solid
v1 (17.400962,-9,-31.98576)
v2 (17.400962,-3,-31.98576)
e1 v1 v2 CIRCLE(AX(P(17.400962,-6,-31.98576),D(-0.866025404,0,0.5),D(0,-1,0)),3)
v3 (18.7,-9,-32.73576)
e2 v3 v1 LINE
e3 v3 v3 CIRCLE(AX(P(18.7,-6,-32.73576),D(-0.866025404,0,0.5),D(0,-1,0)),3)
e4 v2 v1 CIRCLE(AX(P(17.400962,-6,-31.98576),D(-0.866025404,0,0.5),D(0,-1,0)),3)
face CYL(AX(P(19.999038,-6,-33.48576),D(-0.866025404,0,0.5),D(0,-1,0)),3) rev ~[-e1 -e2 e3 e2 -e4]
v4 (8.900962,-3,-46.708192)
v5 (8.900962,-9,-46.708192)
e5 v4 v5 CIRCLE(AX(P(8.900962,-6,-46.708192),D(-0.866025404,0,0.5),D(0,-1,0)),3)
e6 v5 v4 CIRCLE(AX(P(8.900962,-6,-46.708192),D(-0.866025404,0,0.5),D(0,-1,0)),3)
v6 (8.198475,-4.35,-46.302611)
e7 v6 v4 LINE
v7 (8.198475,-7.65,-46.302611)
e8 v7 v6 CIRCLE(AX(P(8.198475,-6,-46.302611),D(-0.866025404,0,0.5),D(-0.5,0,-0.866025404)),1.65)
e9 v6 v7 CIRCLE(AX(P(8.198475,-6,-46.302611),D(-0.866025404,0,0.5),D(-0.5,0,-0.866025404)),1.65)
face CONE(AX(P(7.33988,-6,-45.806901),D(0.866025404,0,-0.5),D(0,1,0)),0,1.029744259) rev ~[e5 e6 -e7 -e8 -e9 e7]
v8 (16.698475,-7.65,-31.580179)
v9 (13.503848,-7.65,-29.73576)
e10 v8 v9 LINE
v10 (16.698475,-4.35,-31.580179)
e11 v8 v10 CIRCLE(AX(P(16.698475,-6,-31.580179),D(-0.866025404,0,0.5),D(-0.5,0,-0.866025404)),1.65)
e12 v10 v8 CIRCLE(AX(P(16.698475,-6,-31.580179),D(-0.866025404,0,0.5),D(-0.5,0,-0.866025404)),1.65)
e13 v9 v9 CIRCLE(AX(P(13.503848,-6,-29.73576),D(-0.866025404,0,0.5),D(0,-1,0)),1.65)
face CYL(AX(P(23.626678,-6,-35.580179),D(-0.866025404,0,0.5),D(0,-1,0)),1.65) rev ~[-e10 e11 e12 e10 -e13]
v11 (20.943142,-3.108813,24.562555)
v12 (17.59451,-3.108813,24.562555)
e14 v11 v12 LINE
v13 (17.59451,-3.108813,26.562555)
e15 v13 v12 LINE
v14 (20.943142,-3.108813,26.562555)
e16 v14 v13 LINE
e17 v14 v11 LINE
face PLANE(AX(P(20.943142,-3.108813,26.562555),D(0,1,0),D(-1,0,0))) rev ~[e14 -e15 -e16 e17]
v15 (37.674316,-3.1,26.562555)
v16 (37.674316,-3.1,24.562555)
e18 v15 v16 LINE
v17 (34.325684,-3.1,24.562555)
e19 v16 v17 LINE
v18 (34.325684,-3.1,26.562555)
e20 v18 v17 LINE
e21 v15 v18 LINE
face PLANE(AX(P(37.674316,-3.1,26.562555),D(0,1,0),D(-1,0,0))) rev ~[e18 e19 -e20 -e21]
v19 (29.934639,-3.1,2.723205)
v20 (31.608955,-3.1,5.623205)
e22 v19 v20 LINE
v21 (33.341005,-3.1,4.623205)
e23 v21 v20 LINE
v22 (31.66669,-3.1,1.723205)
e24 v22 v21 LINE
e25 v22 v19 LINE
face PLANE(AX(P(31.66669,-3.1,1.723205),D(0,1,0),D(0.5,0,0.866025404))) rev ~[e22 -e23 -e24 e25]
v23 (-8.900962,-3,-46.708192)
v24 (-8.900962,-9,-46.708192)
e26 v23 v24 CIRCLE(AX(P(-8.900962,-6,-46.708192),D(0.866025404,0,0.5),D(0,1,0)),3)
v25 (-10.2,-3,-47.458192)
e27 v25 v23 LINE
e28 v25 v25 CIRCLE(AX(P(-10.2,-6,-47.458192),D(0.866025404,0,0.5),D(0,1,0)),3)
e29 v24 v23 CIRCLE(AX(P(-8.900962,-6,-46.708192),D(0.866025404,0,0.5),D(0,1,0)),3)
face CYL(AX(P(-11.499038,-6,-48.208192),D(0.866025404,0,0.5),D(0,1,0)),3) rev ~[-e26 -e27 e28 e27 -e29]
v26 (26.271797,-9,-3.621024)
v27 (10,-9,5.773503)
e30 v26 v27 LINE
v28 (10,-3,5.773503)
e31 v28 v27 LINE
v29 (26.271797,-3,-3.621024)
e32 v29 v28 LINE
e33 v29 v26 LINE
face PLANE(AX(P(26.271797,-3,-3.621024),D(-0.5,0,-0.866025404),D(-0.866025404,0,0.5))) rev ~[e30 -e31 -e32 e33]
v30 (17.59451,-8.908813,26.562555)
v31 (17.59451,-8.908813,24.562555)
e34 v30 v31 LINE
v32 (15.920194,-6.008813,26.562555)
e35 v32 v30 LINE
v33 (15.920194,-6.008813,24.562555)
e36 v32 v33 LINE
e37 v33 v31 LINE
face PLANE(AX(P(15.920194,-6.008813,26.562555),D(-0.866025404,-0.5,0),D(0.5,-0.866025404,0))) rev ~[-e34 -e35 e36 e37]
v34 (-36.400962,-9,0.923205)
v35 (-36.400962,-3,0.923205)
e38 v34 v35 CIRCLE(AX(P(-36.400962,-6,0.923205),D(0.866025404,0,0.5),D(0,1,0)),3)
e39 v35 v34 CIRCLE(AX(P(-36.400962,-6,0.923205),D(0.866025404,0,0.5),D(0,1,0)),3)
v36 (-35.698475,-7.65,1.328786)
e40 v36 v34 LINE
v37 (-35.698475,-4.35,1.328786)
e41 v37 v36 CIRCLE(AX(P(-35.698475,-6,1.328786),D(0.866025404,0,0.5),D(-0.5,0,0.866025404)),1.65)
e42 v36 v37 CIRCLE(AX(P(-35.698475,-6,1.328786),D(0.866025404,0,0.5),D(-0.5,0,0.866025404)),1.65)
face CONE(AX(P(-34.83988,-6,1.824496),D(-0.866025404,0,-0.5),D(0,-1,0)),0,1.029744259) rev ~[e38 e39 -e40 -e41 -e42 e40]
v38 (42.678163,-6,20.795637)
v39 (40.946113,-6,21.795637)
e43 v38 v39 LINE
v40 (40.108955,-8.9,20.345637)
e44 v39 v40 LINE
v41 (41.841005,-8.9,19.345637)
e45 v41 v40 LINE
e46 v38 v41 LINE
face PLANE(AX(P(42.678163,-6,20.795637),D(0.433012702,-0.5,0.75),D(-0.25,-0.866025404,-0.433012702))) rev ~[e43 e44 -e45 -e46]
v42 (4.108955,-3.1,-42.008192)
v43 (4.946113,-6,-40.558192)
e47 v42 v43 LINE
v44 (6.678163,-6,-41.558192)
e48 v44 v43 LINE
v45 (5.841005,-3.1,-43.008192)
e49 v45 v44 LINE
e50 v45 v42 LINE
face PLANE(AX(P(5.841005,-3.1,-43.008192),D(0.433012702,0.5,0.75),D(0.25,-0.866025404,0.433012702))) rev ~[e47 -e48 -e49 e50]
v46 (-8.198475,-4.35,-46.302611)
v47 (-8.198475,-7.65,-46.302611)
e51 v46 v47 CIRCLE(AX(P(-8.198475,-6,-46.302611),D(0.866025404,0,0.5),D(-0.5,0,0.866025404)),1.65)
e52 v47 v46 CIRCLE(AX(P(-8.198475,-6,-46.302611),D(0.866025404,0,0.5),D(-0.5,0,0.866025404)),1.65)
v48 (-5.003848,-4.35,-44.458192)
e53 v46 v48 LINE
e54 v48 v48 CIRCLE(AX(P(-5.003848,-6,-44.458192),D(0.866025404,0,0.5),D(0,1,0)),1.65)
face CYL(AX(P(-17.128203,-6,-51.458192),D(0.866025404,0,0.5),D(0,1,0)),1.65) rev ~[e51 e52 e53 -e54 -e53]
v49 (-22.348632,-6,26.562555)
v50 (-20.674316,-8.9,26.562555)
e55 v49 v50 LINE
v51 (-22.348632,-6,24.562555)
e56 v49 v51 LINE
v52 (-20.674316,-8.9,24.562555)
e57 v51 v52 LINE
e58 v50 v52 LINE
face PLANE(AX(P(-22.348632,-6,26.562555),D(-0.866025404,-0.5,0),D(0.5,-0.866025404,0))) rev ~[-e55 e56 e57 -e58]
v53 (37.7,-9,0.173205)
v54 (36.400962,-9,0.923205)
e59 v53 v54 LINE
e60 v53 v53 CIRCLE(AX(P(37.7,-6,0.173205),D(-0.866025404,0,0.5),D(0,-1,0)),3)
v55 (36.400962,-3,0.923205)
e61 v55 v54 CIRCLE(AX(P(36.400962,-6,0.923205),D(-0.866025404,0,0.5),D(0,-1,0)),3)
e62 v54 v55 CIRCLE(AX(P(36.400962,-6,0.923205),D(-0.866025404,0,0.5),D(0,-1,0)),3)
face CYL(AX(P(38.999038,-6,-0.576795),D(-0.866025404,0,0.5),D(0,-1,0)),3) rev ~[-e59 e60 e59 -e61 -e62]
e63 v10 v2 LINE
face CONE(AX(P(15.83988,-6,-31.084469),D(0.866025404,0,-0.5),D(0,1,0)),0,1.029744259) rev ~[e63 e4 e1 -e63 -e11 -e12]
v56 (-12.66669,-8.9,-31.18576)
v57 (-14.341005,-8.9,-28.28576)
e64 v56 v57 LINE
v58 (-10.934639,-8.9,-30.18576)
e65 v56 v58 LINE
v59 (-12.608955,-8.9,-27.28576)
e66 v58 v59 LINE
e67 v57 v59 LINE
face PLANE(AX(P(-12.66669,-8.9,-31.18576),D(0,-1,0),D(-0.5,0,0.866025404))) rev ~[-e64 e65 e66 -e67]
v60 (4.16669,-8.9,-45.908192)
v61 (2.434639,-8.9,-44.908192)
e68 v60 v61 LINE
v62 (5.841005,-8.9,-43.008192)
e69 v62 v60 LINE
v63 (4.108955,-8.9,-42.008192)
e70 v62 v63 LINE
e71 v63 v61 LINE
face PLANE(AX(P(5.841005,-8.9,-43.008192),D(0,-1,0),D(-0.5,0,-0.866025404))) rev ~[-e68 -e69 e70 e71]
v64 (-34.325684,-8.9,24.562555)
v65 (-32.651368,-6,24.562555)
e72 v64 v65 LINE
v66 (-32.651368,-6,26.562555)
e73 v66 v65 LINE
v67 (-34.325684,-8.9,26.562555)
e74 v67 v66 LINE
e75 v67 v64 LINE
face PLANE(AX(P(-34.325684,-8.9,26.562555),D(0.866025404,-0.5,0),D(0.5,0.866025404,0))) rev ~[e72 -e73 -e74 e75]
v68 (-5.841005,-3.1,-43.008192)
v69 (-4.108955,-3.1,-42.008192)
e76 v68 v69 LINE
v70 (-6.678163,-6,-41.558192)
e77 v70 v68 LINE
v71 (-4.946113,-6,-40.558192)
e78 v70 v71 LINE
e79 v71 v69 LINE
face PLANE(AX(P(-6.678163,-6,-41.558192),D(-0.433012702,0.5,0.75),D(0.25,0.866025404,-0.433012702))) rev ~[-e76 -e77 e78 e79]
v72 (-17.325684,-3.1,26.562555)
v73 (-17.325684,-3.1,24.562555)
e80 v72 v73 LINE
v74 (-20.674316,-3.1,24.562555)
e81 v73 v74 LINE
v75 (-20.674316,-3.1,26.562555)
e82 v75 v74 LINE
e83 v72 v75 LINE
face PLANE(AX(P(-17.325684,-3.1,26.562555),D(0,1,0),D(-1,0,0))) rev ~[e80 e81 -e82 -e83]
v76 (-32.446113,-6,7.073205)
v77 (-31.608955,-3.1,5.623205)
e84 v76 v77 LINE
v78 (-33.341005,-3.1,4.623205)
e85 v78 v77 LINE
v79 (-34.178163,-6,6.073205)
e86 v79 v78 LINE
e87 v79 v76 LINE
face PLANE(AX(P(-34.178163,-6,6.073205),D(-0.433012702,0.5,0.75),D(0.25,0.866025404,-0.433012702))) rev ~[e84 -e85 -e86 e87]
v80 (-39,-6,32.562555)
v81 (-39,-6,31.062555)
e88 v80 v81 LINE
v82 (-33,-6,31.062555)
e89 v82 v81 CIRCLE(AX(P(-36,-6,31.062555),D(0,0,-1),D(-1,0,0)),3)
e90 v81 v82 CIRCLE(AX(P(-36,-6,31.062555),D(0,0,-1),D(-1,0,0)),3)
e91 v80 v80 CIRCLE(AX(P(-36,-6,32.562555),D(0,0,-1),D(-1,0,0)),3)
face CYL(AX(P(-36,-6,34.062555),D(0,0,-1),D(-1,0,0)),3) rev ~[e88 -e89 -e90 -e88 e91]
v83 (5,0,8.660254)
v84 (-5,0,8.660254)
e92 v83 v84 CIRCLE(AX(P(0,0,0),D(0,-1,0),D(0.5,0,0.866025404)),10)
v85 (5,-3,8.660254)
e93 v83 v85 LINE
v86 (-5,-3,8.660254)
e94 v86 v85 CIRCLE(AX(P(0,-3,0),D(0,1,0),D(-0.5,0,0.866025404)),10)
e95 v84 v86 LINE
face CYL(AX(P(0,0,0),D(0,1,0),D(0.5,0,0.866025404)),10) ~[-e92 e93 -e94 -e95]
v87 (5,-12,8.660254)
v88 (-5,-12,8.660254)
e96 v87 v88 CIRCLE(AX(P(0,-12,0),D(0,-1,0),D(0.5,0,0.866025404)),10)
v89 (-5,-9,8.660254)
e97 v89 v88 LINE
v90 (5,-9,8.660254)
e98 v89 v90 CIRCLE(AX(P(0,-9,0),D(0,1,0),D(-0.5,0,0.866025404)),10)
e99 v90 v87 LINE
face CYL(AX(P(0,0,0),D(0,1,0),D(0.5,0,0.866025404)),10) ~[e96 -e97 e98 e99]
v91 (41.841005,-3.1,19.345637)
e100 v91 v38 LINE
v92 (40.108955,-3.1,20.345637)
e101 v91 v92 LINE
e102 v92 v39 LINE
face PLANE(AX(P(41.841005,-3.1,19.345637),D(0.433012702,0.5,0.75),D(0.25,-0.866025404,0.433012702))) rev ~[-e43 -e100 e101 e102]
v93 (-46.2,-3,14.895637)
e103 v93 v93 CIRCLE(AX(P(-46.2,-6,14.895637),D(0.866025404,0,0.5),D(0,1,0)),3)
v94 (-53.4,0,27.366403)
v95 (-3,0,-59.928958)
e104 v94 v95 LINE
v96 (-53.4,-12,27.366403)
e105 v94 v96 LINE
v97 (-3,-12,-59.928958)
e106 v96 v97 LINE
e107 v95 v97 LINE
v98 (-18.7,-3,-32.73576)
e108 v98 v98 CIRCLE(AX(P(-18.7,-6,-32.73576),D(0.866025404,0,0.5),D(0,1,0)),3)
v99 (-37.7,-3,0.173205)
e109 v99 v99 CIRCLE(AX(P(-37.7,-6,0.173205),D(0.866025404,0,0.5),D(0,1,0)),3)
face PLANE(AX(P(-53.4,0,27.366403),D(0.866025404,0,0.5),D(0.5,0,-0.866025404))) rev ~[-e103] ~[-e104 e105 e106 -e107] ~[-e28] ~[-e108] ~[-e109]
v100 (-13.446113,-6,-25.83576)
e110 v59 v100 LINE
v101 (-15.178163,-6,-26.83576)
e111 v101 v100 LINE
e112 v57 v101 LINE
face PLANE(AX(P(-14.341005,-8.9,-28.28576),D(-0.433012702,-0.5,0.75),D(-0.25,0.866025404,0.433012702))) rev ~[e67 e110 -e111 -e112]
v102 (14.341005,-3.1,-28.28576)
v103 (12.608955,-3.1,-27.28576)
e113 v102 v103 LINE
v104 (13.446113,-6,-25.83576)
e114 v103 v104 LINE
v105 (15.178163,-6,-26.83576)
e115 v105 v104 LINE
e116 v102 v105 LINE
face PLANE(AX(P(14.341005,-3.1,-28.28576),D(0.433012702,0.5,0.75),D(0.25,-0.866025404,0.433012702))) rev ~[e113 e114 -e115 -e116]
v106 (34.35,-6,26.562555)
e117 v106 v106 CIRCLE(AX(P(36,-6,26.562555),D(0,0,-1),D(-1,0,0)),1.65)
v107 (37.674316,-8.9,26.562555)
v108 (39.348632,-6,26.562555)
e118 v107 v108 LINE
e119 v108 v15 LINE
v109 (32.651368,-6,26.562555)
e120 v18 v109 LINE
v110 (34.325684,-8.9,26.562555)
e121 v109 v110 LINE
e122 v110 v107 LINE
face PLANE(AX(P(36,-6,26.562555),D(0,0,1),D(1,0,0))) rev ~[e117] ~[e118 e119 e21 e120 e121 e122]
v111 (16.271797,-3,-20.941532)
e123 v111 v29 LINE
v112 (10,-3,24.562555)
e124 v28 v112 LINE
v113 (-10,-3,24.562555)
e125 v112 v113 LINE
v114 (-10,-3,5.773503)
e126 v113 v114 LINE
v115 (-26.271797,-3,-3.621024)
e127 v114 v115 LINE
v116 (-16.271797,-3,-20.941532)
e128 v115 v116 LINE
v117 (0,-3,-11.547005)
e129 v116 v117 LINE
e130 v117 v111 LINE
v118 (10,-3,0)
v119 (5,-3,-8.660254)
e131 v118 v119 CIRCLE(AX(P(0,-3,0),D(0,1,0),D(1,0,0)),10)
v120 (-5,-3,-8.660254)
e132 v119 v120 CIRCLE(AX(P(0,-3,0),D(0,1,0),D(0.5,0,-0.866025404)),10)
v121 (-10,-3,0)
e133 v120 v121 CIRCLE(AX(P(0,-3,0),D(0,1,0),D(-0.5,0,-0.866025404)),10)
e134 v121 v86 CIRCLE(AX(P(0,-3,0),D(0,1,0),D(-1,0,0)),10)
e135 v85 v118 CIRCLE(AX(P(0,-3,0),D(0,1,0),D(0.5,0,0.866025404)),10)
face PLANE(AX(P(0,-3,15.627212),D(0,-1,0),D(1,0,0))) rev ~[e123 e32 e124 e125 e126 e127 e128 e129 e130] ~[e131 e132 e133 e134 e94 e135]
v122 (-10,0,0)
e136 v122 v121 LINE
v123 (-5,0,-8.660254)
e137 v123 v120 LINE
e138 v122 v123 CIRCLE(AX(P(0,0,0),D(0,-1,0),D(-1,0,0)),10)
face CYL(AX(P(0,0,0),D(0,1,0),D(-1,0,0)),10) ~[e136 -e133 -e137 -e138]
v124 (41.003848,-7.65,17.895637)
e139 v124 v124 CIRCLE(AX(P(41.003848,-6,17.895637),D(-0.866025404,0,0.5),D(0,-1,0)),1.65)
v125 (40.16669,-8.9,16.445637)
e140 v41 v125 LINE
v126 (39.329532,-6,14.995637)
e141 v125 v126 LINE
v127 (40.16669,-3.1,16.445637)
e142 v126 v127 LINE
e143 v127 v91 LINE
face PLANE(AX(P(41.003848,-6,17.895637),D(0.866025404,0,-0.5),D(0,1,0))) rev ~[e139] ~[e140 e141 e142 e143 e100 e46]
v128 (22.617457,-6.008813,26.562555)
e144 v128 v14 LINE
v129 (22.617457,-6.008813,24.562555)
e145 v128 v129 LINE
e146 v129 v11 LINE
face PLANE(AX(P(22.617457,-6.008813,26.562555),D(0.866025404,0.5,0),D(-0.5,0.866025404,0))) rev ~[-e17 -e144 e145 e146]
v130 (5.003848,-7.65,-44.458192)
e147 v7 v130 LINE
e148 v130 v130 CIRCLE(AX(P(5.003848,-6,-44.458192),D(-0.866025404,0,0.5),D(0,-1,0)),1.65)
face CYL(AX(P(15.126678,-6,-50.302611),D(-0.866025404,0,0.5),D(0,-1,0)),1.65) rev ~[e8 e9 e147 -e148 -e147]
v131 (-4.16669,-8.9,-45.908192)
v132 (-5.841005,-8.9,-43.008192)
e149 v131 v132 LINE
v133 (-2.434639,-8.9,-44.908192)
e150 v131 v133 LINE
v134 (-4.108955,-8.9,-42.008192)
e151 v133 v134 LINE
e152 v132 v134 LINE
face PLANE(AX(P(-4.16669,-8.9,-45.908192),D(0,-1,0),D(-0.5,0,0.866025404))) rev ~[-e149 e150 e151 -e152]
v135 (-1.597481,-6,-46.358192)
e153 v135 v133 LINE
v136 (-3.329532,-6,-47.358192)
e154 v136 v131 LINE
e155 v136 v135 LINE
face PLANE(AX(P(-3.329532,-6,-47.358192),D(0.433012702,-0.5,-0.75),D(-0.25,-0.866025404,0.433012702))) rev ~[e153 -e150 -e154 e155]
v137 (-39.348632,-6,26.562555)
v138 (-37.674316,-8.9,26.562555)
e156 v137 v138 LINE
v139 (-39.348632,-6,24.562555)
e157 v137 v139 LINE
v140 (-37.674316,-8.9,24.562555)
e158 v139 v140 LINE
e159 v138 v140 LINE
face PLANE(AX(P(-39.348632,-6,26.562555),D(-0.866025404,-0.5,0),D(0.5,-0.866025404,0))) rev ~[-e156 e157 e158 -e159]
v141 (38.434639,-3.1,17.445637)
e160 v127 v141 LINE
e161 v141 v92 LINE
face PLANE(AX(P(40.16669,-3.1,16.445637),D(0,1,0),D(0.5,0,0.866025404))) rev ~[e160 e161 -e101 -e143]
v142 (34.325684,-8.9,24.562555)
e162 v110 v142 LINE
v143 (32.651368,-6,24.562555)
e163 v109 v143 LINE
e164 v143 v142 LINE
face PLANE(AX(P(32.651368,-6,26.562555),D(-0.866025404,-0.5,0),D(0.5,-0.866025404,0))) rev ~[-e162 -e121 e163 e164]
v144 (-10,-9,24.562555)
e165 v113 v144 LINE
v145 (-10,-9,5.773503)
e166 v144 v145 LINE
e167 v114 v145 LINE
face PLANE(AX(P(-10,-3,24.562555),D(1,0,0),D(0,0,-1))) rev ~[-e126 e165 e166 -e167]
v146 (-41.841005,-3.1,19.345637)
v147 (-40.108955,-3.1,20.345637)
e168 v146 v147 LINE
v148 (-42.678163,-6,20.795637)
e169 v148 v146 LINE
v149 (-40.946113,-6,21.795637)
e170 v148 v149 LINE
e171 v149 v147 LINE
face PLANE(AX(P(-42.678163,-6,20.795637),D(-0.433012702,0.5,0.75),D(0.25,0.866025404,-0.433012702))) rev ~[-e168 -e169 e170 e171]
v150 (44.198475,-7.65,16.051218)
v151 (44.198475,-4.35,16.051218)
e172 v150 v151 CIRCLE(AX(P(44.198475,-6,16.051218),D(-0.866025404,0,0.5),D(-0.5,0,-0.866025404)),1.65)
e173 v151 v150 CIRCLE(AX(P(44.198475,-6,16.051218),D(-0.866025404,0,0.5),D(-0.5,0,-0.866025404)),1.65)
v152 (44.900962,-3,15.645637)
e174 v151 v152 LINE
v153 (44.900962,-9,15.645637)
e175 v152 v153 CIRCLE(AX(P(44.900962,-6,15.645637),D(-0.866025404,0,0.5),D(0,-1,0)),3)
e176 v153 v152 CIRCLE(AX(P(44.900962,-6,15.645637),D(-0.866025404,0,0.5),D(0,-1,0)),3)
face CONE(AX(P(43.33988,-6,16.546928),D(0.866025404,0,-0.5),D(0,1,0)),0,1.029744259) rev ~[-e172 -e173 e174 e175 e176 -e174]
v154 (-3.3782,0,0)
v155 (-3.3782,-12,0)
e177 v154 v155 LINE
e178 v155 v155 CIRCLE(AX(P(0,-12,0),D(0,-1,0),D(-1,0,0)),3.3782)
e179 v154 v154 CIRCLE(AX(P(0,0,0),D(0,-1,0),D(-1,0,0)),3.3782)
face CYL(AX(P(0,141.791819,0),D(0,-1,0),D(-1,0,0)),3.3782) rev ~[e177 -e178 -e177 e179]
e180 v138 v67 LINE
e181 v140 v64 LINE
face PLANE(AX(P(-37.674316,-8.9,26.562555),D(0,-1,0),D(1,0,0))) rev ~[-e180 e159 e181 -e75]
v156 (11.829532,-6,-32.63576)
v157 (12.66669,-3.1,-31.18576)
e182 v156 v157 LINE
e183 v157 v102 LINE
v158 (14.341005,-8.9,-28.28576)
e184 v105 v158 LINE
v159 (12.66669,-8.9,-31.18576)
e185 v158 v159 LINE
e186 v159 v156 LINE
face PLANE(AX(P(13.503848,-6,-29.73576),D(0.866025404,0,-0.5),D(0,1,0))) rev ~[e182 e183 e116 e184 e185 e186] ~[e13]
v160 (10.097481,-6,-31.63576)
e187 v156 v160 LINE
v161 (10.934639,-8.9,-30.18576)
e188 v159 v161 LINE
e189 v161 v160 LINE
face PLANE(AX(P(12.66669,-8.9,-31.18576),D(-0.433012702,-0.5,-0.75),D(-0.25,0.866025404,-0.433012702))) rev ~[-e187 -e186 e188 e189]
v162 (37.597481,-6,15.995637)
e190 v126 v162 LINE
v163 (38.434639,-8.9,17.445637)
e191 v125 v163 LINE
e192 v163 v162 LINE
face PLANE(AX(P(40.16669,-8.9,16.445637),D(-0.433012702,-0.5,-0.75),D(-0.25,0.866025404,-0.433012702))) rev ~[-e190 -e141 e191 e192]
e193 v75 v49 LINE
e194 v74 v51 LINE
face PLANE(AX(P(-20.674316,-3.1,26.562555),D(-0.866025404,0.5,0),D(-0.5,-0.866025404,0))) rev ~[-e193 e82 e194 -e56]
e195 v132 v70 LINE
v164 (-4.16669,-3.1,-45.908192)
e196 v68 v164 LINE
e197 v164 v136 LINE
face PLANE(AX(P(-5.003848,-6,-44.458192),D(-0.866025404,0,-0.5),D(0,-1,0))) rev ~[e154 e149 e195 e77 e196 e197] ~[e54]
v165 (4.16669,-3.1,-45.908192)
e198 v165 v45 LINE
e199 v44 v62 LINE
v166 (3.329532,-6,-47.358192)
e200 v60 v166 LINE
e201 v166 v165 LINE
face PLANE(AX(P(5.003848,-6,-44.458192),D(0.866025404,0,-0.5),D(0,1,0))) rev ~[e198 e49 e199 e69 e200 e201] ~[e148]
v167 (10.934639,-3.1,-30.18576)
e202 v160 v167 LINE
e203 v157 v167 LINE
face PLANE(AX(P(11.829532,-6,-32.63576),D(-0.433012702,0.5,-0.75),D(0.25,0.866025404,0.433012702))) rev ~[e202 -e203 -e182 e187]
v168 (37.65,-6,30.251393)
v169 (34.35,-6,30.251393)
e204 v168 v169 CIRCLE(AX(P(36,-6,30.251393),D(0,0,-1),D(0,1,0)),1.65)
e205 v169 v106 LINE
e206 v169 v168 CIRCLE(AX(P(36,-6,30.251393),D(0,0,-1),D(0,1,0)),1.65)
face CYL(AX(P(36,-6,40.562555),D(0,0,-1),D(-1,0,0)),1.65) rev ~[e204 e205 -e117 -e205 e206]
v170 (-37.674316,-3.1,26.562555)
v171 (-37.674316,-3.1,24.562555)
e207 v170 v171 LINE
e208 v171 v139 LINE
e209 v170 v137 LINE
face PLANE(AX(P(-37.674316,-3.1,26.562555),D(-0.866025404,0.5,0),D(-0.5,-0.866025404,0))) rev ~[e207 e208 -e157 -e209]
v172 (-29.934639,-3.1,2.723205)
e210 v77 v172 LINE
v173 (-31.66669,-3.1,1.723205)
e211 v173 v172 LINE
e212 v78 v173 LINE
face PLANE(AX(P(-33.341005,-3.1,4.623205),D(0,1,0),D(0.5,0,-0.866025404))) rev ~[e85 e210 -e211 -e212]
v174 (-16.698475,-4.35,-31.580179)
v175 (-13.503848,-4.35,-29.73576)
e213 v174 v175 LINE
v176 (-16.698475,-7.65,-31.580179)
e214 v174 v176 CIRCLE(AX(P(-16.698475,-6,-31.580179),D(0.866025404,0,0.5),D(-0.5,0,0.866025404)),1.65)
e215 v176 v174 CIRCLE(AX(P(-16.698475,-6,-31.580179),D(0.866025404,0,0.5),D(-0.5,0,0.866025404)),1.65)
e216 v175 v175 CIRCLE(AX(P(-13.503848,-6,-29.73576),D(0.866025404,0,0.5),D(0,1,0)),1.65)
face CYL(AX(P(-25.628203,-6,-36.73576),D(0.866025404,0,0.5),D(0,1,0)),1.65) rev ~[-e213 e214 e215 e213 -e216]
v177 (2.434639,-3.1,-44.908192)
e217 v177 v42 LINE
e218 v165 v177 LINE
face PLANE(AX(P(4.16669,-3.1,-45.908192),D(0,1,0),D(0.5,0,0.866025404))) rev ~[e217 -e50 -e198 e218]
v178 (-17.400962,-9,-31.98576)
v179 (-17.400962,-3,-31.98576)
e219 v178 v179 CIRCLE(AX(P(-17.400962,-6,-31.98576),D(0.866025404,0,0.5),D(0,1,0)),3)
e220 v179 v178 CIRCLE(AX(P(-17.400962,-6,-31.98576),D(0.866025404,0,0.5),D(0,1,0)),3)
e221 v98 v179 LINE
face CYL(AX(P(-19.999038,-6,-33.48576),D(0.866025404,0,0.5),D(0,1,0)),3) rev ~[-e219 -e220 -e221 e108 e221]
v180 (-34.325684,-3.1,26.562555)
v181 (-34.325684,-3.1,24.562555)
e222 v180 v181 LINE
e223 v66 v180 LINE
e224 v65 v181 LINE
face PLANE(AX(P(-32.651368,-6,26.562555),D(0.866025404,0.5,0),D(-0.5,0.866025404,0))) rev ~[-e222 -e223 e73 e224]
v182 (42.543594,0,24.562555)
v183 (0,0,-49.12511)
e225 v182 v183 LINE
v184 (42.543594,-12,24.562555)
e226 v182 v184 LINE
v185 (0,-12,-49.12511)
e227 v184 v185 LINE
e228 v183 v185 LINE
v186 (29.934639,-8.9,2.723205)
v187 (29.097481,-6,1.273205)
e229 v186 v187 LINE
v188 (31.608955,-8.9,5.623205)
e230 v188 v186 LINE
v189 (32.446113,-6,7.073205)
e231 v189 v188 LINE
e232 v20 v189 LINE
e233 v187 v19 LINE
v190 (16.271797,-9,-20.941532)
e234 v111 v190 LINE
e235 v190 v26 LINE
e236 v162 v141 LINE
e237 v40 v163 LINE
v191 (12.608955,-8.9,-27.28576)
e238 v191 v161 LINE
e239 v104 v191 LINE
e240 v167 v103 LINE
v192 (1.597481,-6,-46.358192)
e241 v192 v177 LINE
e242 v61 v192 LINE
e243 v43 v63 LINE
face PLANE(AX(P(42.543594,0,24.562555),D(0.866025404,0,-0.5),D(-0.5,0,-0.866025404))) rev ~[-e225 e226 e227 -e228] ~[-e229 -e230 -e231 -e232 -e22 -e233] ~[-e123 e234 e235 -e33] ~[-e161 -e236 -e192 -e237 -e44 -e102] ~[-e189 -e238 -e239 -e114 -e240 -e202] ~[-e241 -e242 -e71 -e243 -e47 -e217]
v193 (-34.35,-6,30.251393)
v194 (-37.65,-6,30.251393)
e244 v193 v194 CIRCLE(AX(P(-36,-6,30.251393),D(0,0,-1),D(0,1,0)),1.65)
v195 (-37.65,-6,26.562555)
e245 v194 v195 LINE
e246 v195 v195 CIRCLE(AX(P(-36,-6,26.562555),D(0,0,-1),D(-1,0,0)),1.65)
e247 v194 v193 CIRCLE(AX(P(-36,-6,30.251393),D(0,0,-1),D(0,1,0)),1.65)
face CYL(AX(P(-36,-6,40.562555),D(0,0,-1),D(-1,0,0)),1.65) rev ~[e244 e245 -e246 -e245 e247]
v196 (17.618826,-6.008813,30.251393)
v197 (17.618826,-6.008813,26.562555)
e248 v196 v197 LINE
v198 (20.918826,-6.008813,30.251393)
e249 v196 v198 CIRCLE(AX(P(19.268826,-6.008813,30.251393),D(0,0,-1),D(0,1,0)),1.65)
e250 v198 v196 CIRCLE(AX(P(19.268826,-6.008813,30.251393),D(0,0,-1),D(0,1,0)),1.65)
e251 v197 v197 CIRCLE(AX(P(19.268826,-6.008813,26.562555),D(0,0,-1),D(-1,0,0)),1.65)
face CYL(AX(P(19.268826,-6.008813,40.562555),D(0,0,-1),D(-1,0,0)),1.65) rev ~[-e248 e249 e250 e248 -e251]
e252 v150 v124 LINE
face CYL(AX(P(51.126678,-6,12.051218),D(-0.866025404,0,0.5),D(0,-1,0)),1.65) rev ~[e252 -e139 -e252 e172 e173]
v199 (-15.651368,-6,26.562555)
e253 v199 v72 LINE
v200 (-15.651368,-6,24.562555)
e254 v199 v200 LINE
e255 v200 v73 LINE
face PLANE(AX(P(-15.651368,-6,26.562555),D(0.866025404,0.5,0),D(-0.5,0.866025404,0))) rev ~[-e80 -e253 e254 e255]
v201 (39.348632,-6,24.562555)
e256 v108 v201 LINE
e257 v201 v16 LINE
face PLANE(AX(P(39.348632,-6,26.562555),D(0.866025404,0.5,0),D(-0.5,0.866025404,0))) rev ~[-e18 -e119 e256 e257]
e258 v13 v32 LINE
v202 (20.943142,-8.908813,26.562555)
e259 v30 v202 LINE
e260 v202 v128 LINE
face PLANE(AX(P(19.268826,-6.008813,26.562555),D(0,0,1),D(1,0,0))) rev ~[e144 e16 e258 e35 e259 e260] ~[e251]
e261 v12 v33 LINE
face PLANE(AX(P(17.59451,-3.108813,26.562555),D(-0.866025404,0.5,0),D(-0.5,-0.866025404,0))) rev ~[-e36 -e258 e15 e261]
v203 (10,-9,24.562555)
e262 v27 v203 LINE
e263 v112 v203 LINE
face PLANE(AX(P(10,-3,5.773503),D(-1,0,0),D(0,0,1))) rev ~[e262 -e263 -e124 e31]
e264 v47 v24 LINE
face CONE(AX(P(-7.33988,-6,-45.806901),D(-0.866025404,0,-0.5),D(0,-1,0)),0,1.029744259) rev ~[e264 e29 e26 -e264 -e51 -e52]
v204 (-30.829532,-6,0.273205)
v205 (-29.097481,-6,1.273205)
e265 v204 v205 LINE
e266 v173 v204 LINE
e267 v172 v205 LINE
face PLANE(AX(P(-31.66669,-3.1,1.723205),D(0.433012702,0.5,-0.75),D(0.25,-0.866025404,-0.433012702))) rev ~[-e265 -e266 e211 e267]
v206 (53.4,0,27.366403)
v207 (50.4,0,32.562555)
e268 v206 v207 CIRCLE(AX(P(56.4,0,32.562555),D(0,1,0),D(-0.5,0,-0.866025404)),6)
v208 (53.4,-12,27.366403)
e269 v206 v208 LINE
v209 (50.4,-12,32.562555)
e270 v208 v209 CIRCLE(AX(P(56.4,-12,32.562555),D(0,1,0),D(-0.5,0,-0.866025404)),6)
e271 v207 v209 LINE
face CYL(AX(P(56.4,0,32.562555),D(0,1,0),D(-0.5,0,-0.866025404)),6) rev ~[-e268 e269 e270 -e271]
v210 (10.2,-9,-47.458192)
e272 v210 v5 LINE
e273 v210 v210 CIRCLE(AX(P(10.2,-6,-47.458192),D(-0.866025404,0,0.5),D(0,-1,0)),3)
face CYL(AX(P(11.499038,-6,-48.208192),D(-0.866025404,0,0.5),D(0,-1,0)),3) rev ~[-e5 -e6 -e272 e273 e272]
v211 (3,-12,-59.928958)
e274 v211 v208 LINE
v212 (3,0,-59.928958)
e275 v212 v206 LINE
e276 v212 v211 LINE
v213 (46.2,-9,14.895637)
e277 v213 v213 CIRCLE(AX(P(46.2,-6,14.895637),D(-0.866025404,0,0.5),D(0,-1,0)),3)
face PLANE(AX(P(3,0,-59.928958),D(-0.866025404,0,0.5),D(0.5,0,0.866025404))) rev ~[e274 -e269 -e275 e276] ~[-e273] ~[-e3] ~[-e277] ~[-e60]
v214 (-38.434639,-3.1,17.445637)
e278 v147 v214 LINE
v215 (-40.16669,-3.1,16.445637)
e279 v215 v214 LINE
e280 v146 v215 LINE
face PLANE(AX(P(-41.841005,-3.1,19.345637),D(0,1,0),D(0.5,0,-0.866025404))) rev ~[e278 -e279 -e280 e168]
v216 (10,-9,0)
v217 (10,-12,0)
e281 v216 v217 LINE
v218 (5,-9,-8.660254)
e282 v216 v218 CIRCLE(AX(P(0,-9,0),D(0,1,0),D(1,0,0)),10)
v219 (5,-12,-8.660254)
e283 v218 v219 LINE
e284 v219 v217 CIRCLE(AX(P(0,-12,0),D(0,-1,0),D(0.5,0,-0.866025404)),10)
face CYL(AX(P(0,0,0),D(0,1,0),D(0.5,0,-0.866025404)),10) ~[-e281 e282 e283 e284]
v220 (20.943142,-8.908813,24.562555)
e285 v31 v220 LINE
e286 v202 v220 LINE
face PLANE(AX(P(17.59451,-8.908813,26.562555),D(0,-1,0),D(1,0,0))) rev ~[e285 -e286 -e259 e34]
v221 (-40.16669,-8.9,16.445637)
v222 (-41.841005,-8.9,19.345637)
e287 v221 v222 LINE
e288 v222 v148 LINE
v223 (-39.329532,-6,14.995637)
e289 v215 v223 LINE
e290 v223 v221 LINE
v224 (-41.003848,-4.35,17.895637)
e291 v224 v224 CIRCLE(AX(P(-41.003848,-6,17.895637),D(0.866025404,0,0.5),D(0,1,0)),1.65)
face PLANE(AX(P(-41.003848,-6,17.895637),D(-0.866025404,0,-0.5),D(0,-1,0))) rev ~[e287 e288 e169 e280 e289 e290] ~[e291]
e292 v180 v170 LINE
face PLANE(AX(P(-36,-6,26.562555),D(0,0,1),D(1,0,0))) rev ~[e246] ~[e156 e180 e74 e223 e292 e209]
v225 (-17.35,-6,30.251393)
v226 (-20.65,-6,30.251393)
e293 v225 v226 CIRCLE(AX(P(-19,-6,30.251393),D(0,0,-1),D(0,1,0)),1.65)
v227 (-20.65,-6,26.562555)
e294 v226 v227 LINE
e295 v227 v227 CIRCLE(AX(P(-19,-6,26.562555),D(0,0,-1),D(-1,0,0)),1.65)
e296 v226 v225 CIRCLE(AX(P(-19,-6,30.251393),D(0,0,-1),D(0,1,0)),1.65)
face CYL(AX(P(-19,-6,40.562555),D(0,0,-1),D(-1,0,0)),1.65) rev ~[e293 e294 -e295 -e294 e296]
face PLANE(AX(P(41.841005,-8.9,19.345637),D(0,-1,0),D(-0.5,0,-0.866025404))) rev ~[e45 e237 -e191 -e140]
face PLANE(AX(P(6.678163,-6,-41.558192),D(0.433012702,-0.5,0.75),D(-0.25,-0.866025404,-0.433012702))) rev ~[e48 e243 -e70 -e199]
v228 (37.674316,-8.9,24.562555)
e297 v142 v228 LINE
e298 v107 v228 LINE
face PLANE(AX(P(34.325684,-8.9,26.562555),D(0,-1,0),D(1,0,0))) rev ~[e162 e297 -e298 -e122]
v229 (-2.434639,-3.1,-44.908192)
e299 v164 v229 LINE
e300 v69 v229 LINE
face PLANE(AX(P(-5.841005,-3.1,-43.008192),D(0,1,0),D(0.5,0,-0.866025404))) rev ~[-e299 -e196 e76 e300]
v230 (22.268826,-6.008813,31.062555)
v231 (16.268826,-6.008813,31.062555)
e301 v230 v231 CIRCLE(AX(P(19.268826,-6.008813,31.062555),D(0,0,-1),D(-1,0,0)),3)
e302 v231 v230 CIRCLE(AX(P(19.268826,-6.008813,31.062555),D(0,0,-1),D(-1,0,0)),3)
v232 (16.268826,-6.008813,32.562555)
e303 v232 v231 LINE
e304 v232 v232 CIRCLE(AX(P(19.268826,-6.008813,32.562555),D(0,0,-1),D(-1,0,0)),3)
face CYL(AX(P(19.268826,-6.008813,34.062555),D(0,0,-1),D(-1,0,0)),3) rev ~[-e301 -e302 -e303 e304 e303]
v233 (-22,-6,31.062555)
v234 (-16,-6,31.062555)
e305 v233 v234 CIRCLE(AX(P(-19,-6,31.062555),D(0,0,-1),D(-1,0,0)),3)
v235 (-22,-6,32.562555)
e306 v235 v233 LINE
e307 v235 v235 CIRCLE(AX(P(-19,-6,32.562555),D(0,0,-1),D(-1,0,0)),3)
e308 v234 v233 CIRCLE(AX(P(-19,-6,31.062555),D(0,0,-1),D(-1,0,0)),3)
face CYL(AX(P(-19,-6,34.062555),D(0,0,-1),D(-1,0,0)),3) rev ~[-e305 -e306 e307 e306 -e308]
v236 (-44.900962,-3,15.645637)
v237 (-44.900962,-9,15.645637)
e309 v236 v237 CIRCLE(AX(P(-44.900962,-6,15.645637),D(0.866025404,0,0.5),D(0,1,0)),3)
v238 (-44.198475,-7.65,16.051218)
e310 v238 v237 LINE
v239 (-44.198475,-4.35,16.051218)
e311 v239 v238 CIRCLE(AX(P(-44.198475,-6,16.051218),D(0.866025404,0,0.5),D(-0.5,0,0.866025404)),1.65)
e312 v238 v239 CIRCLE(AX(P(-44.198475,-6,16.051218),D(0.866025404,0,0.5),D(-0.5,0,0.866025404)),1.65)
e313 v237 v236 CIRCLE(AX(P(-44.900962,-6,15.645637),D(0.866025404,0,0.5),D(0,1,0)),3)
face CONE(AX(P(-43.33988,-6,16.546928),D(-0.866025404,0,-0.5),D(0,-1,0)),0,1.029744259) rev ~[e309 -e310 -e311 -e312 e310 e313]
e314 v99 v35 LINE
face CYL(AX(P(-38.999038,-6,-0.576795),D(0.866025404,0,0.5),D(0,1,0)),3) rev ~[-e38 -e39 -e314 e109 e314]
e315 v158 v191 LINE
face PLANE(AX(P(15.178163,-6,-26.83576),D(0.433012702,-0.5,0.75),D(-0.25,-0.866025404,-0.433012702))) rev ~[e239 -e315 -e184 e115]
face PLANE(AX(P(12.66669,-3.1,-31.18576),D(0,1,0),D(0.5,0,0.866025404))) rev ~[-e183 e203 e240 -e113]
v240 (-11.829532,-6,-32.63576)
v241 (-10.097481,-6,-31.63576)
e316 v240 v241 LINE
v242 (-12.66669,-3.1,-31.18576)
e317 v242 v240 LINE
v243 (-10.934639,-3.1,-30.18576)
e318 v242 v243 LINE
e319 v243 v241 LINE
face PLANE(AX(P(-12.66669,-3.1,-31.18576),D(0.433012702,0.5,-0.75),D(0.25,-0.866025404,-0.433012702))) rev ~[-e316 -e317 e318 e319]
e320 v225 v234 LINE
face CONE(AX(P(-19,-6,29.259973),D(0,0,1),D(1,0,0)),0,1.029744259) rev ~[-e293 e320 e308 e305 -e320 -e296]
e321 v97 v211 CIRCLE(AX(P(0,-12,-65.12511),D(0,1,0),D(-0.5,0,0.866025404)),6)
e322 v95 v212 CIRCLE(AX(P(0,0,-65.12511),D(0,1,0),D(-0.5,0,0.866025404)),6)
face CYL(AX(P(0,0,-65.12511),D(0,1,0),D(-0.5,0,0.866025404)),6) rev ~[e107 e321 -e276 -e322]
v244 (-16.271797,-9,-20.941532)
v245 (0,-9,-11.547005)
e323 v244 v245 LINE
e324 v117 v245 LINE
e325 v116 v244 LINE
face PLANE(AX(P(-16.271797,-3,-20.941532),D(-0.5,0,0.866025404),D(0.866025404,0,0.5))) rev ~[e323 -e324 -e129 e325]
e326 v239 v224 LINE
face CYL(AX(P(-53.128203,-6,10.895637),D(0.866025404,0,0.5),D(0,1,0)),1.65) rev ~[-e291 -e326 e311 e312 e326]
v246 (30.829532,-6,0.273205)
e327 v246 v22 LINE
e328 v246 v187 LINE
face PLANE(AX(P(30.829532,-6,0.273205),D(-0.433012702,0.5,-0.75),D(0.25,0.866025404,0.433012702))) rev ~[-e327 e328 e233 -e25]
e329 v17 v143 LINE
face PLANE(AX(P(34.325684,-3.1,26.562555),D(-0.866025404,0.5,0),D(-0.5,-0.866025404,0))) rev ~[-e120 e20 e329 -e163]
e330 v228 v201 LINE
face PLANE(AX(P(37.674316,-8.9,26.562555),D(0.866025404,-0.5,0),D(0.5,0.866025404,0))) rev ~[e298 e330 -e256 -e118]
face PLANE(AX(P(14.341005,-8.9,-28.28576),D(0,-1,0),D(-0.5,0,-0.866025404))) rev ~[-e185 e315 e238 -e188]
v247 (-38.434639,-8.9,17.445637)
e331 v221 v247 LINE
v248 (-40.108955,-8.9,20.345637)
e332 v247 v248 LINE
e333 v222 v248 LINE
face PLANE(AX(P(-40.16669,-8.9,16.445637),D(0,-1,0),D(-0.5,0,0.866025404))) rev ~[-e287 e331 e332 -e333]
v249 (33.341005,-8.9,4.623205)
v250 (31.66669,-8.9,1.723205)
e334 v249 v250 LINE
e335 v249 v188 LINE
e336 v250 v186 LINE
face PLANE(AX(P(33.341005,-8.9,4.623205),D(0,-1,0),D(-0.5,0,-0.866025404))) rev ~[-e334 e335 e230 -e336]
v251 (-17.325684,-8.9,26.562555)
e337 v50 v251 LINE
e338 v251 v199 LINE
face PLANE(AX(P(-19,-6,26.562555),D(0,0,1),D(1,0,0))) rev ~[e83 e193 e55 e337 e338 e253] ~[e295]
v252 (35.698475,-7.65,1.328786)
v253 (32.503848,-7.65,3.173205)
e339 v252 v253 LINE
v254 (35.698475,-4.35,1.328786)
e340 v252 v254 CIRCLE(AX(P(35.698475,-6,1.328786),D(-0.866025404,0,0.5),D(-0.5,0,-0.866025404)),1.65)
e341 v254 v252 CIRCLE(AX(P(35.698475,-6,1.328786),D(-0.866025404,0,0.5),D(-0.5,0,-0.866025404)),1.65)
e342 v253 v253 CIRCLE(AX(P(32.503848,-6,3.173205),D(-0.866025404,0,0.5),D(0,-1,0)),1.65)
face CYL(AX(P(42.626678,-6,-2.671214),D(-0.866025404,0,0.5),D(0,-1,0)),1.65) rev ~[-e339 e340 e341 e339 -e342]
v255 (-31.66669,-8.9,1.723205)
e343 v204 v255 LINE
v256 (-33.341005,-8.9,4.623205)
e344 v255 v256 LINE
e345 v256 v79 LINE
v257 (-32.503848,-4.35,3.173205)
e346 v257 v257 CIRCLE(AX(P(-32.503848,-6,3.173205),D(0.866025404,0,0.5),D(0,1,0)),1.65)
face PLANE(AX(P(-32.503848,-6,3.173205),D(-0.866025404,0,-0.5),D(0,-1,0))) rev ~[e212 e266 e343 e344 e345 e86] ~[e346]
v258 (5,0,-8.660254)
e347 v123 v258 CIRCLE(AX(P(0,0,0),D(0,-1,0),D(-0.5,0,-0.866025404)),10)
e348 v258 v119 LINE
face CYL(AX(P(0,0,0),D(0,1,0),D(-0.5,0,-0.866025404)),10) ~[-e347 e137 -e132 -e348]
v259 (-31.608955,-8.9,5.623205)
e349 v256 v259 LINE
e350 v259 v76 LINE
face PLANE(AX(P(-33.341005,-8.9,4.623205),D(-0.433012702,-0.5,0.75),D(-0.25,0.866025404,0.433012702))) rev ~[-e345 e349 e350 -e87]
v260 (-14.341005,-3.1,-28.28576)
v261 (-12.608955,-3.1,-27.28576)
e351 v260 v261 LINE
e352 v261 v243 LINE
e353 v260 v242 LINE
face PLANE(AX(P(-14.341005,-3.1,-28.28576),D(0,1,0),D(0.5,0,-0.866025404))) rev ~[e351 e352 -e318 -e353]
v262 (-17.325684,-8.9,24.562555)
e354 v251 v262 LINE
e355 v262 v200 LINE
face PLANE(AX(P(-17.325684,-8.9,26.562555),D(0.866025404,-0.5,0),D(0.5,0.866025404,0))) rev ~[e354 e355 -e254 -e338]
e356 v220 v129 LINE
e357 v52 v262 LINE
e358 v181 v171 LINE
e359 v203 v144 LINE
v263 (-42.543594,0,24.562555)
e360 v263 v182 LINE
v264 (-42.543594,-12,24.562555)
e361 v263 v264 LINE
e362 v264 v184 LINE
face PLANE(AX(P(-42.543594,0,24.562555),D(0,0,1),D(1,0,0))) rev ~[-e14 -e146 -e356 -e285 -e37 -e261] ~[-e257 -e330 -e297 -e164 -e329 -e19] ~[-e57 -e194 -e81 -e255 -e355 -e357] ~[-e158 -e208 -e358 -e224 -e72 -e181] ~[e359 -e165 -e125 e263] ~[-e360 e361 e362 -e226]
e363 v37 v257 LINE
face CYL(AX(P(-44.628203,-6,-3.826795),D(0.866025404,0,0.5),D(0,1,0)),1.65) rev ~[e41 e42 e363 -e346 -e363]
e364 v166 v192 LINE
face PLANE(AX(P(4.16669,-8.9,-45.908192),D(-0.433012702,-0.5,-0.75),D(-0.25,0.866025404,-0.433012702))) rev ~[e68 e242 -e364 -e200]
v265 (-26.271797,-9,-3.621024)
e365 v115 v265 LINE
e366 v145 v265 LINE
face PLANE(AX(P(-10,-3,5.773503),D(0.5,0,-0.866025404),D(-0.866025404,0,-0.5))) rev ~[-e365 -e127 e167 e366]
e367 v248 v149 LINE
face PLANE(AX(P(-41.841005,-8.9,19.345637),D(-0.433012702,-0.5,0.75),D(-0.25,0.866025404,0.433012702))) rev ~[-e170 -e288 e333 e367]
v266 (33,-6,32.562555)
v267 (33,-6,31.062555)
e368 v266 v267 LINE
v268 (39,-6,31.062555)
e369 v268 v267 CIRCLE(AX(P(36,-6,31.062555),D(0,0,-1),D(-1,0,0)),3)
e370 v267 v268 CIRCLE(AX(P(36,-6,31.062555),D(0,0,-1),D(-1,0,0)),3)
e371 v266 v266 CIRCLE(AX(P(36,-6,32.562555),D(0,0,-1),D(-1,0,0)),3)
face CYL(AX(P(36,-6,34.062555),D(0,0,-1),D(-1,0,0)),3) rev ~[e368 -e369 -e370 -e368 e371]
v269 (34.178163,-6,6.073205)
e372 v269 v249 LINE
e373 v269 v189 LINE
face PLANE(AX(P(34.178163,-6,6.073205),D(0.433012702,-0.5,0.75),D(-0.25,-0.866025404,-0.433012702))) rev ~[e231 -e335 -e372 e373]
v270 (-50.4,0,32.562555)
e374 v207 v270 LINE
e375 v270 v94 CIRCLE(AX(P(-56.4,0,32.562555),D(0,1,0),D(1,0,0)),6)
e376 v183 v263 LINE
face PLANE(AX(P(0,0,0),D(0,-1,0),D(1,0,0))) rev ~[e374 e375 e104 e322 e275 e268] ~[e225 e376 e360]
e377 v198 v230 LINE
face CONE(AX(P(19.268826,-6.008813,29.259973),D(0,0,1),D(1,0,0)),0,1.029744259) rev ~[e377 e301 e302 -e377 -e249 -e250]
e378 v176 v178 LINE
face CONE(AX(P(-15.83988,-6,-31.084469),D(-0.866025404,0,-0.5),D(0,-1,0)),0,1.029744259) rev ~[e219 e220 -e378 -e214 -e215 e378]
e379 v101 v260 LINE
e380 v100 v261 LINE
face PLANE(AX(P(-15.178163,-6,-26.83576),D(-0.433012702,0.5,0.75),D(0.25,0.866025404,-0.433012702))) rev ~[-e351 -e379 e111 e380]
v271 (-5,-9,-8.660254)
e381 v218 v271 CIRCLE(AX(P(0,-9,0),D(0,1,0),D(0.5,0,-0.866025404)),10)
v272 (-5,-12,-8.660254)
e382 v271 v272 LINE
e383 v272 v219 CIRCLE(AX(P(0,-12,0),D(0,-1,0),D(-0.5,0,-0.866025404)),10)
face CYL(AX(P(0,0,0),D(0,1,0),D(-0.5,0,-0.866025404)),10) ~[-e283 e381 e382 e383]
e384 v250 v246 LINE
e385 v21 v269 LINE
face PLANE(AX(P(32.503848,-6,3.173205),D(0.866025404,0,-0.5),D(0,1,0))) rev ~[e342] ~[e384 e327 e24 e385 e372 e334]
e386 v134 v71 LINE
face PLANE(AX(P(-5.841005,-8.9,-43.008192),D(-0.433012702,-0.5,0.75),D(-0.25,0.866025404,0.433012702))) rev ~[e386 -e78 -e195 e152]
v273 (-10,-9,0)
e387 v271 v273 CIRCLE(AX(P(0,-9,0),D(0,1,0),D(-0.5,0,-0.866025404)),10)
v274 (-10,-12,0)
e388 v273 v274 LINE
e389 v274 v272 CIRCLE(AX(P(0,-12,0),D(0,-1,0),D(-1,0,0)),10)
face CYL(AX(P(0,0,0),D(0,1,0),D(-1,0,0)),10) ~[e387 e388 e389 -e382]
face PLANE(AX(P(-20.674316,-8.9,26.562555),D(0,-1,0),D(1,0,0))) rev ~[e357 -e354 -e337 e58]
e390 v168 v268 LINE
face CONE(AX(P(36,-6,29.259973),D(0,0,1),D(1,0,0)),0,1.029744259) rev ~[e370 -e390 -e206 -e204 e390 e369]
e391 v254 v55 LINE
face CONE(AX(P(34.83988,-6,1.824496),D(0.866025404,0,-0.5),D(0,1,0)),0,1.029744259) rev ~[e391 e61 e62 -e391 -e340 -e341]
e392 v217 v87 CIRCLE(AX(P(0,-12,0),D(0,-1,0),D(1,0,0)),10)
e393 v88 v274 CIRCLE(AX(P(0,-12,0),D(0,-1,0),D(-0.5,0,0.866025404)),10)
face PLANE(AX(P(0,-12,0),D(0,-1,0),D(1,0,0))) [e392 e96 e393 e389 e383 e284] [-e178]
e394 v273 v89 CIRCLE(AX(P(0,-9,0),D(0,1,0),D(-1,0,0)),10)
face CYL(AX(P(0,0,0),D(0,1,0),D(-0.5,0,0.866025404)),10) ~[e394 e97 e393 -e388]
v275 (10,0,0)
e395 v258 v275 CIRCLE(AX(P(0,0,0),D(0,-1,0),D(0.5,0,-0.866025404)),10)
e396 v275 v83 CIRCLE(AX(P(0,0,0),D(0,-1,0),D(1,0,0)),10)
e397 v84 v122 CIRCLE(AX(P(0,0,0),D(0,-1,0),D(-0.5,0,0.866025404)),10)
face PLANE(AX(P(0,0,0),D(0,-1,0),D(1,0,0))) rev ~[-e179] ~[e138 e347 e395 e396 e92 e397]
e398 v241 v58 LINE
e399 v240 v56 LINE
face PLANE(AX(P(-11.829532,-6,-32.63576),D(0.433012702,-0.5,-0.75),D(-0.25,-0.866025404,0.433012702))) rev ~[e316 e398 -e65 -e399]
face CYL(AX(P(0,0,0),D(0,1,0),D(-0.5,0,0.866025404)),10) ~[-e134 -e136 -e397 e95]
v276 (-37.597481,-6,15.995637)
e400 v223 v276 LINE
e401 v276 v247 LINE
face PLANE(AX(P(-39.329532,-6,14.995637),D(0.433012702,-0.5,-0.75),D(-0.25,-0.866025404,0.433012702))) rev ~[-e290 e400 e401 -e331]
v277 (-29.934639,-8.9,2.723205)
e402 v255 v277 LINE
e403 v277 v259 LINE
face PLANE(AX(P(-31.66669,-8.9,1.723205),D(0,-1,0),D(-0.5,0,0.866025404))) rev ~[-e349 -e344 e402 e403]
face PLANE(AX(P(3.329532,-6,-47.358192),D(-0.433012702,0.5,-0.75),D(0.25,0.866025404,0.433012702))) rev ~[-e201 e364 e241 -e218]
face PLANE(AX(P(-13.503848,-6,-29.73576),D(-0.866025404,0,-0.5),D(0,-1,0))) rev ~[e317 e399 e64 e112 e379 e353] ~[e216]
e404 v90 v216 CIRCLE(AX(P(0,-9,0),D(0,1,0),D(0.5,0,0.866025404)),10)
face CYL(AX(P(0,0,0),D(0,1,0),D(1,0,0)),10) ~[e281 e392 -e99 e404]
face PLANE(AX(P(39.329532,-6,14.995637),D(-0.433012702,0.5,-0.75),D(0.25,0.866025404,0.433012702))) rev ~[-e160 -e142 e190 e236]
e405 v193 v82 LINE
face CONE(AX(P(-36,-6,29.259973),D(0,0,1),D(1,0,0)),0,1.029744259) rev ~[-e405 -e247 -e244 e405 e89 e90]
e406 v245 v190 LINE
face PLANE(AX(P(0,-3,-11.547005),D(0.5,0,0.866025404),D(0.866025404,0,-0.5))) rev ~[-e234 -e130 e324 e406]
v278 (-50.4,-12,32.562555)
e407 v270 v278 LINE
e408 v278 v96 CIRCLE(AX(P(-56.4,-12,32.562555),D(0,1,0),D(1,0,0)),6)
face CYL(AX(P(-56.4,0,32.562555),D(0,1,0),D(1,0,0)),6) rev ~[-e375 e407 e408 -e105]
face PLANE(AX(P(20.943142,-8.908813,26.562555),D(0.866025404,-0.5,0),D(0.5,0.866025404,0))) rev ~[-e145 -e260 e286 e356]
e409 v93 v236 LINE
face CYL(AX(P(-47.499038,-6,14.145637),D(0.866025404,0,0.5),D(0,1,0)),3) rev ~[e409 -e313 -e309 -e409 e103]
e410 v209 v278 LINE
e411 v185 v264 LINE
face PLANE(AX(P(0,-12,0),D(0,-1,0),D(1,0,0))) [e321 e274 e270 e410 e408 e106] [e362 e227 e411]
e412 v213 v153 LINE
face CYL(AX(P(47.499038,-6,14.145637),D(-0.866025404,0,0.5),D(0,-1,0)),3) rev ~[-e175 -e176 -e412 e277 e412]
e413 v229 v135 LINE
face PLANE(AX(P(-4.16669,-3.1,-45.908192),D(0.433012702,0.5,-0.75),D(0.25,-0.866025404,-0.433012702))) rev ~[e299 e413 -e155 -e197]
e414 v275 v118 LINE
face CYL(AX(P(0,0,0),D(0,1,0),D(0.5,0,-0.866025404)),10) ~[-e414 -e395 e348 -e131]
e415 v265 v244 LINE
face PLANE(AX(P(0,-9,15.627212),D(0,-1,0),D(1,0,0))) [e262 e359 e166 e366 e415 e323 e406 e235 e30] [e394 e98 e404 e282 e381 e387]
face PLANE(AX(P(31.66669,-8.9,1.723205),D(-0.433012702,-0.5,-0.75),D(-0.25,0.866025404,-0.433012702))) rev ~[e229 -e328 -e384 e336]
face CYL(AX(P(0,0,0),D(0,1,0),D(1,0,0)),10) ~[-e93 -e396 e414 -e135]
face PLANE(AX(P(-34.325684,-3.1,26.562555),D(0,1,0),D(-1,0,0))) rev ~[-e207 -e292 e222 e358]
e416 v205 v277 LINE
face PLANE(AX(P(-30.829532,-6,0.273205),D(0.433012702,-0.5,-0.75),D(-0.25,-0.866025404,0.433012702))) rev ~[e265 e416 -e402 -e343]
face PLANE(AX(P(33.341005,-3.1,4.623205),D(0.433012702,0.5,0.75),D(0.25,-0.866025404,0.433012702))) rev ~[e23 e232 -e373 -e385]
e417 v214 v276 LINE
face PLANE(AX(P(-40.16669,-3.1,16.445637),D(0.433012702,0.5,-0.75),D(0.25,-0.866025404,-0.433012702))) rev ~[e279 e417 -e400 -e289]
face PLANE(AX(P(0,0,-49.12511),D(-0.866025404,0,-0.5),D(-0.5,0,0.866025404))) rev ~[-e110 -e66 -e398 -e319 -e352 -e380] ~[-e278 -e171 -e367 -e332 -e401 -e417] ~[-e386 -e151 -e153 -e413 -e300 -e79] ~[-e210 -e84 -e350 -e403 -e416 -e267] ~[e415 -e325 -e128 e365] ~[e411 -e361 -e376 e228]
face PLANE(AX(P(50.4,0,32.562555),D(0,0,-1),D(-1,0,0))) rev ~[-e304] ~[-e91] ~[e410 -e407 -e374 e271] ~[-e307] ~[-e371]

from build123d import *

# Parameters (mm, degrees)
F1_DEPTH  = 12
F2_START  = 3
F2_DEPTH  = 6
F3_D      = 6.7564
F5_START  = -6
F5_DEPTH  = 4
F6_D      = 3.3
F6_DEPTH  = 8
F6_TIP    = 0.9914200214
F7_D      = 6
F7_DEPTH  = 1.5
F7_TIP    = 1.8025818571
F9_START  = -6
F9_DEPTH  = 4
F10_D     = 3.3
F10_DEPTH = 8
F10_TIP   = 0.9914200214
F11_D     = 6
F11_DEPTH = 1.5
F11_TIP   = 1.8025818571
F13_START = -6
F13_DEPTH = 4
F14_D     = 6
F14_DEPTH = 1.5
F14_TIP   = 1.8025818571
F15_D     = 3.3
F15_DEPTH = 8
F15_START = 2.3111618
F15_TIP   = 0.9914200214


with BuildPart() as f1:
    # F0 (on Front) → F1 (new body)
    with BuildSketch(Plane.XZ):
        with BuildLine():
            Line((3, -59.9289579419), (53.4, 27.3664027596))
            ThreePointArc((53.4, 27.3664027596), (51.2038475773, 29.5625551823), (50.4, 32.5625551823))
            Line((50.4, 32.5625551823), (-50.4, 32.5625551823))
            ThreePointArc((-50.4, 32.5625551823), (-51.2038475773, 29.5625551823), (-53.4, 27.3664027596))
            Line((-53.4, 27.3664027596), (-3, -59.9289579419))
            ThreePointArc((-3, -59.9289579419), (0, -59.1251103646), (3, -59.9289579419))
        make_face()
        Polygon((10, 24.5625551823), (42.5435935394, 24.5625551823), (26.2717967697, -3.6210235533), (16.2717967697, -20.941531629), (0, -49.1251103646), (-16.2717967697, -20.941531629), (-26.2717967697, -3.6210235533), (-42.5435935394, 24.5625551823), (-10, 24.5625551823), align=None, mode=Mode.SUBTRACT)
    extrude(amount=F1_DEPTH)



with BuildPart() as f1b:
    # F0 (on Front) → F1, piece 2 (new body)
    with BuildSketch(Plane.XZ):
        with BuildLine():
            ThreePointArc((5, -8.6602540378), (8.6602540378, -5), (10, 0))
            ThreePointArc((10, 0), (8.6602540378, 5), (5, 8.6602540378))
            ThreePointArc((5, 8.6602540378), (0, 10), (-5, 8.6602540378))
            ThreePointArc((-5, 8.6602540378), (-8.6602540378, 5), (-10, 0))
            ThreePointArc((-10, 0), (-8.6602540378, -5), (-5, -8.6602540378))
            ThreePointArc((-5, -8.6602540378), (0, -10), (5, -8.6602540378))
        make_face()
    extrude(amount=F1_DEPTH)


with BuildPart() as f1_1:
    add(f1.part)

    add(f1b.part)  # F2 merges F1b
    # F0 (on Front) → F2 (join)
    with BuildSketch(Plane.XZ.offset(F2_START)):
        with BuildLine():
            Line((10, 5.7735026919), (10, 24.5625551823))
            Line((10, 24.5625551823), (-10, 24.5625551823))
            Line((-10, 24.5625551823), (-10, 5.7735026919))
            Line((-10, 5.7735026919), (-5, 8.6602540378))
            ThreePointArc((-5, 8.6602540378), (0, 10), (5, 8.6602540378))
            Line((5, 8.6602540378), (10, 5.7735026919))
        make_face()
        with BuildLine():
            Line((16.2717967697, -20.941531629), (26.2717967697, -3.6210235533))
            Line((26.2717967697, -3.6210235533), (10, 5.7735026919))
            Line((10, 5.7735026919), (10, 0))
            ThreePointArc((10, 0), (8.6602540378, -5), (5, -8.6602540378))
            Line((5, -8.6602540378), (0, -11.5470053838))
            Line((0, -11.5470053838), (16.2717967697, -20.941531629))
        make_face()
        with BuildLine():
            Line((-16.2717967697, -20.941531629), (0, -11.5470053838))
            Line((0, -11.5470053838), (-5, -8.6602540378))
            ThreePointArc((-5, -8.6602540378), (-8.6602540378, -5), (-10, 0))
            Line((-10, 0), (-10, 5.7735026919))
            Line((-10, 5.7735026919), (-26.2717967697, -3.6210235533))
            Line((-26.2717967697, -3.6210235533), (-16.2717967697, -20.941531629))
        make_face()
        with BuildLine():
            Line((-5, 8.6602540378), (-10, 5.7735026919))
            Line((-10, 5.7735026919), (-10, 0))
            ThreePointArc((-10, 0), (-8.6602540378, 5), (-5, 8.6602540378))
        make_face()
        with BuildLine():
            Line((10, 0), (10, 5.7735026919))
            Line((10, 5.7735026919), (5, 8.6602540378))
            ThreePointArc((5, 8.6602540378), (8.6602540378, 5), (10, 0))
        make_face()
        with BuildLine():
            Line((-5, -8.6602540378), (0, -11.5470053838))
            Line((0, -11.5470053838), (5, -8.6602540378))
            ThreePointArc((5, -8.6602540378), (0, -10), (-5, -8.6602540378))
        make_face()
    extrude(amount=F2_DEPTH)

    # F3 (through all)
    with Locations(Plane(origin=(0, 0, 0), x_dir=(1, 0, 0), z_dir=(0, 1, 0))):
        with Locations((0, 0)):
            Hole(F3_D / 2)

    # F4 (on face) → F5 (cut)
    with BuildSketch(Plane(origin=(-28.2, 0, -16.2812775911), x_dir=(0, -1, 0), z_dir=(-0.8660254038, 0, -0.5)).offset(F5_START)):
        Polygon((8.9, -34.3256842194), (6, -32.6513684387), (3.1, -34.3256842194), (3.1, -37.6743157806), (6, -39.3486315613), (8.9, -37.6743157806), align=None)
        Polygon((3.1, -20.6743157806), (6, -22.3486315613), (8.9, -20.6743157806), (8.9, -17.3256842194), (6, -15.6513684387), (3.1, -17.3256842194), align=None)
        Polygon((8.9, 17.3256842194), (8.9, 20.6743157806), (6, 22.3486315613), (3.1, 20.6743157806), (3.1, 17.3256842194), (6, 15.6513684387), align=None)
        Polygon((6, 32.6513684387), (8.9, 34.3256842194), (8.9, 37.6743157806), (6, 39.3486315613), (3.1, 37.6743157806), (3.1, 34.3256842194), align=None)
    extrude(amount=-F5_DEPTH, mode=Mode.SUBTRACT)

    # F6
    with Locations(Plane(origin=(-28.2, 0, -16.2812775911), x_dir=(0, -1, 0), z_dir=(-0.8660254038, 0, -0.5))):
        with Locations((6, -36), (6, -19), (6, 19), (6, 36)):
            Hole(F6_D / 2, depth=F6_DEPTH)
            with Locations((0, 0, -(F6_DEPTH + F6_TIP / 2))):  # 118° drill point
                Cone(0, F6_D / 2, F6_TIP, mode=Mode.SUBTRACT)

    # F7
    with Locations(Plane(origin=(-28.2, 0, -16.2812775911), x_dir=(0, -1, 0), z_dir=(-0.8660254038, 0, -0.5))):
        with Locations((6, -36), (6, -19), (6, 19), (6, 36)):
            Hole(F7_D / 2, depth=F7_DEPTH)
            with Locations((0, 0, -(F7_DEPTH + F7_TIP / 2))):  # 118° drill point
                Cone(0, F7_D / 2, F7_TIP, mode=Mode.SUBTRACT)

    # F8 (on face) → F9 (cut)
    with BuildSketch(Plane.XY.offset(32.5625551823).offset(F9_START)):
        Polygon((-34.3256842194, -8.9), (-32.6513684387, -6), (-34.3256842194, -3.1), (-37.6743157806, -3.1), (-39.3486315613, -6), (-37.6743157806, -8.9), align=None)
        Polygon((-20.6743157806, -8.9), (-17.3256842194, -8.9), (-15.6513684387, -6), (-17.3256842194, -3.1), (-20.6743157806, -3.1), (-22.3486315613, -6), align=None)
        Polygon((34.3256842194, -8.9), (37.6743157806, -8.9), (39.3486315613, -6), (37.6743157806, -3.1), (34.3256842194, -3.1), (32.6513684387, -6), align=None)
        Polygon((20.943141643, -8.908812938), (22.6174574237, -6.008812938), (20.943141643, -3.108812938), (17.5945100817, -3.108812938), (15.9201943011, -6.008812938), (17.5945100817, -8.908812938), align=None)
    extrude(amount=-F9_DEPTH, mode=Mode.SUBTRACT)

    # F10
    with Locations(Plane.XY.offset(32.5625551823)):
        with Locations((-36, -6), (-19, -6), (19.2688258624, -6.008812938), (36, -6)):
            Hole(F10_D / 2, depth=F10_DEPTH)
            with Locations((0, 0, -(F10_DEPTH + F10_TIP / 2))):  # 118° drill point
                Cone(0, F10_D / 2, F10_TIP, mode=Mode.SUBTRACT)

    # F11
    with Locations(Plane.XY.offset(32.5625551823)):
        with Locations((-36, -6), (-19, -6), (19.2688258624, -6.008812938), (36, -6)):
            Hole(F11_D / 2, depth=F11_DEPTH)
            with Locations((0, 0, -(F11_DEPTH + F11_TIP / 2))):  # 118° drill point
                Cone(0, F11_D / 2, F11_TIP, mode=Mode.SUBTRACT)

    # F12 (on face) → F13 (cut)
    with BuildSketch(Plane(origin=(28.2, 0, -16.2812775911), x_dir=(0, 1, 0), z_dir=(0.8660254038, 0, -0.5)).offset(F13_START)):
        Polygon((-8.9, 34.3256842194), (-6, 32.6513684387), (-3.1, 34.3256842194), (-3.1, 37.6743157806), (-6, 39.3486315613), (-8.9, 37.6743157806), align=None)
        Polygon((-3.1, 20.6743157806), (-6, 22.3486315613), (-8.9, 20.6743157806), (-8.9, 17.3256842194), (-6, 15.6513684387), (-3.1, 17.3256842194), align=None)
        Polygon((-6, -15.6513684387), (-8.9, -17.3256842194), (-8.9, -20.6743157806), (-6, -22.3486315613), (-3.1, -20.6743157806), (-3.1, -17.3256842194), align=None)
        Polygon((-6, -32.6513684387), (-8.9, -34.3256842194), (-8.9, -37.6743157806), (-6, -39.3486315613), (-3.1, -37.6743157806), (-3.1, -34.3256842194), align=None)
    extrude(amount=-F13_DEPTH, mode=Mode.SUBTRACT)

    # F14
    with Locations(Plane(origin=(28.2, 0, -16.2812775911), x_dir=(0, 1, 0), z_dir=(0.8660254038, 0, -0.5))):
        with Locations((-6, 36), (-6, 19), (-6, -19), (-6, -36)):
            Hole(F14_D / 2, depth=F14_DEPTH)
            with Locations((0, 0, -(F14_DEPTH + F14_TIP / 2))):  # 118° drill point
                Cone(0, F14_D / 2, F14_TIP, mode=Mode.SUBTRACT)

    # F15
    # its depths count from where the whole tool has entered the part; down to there all is cleared
    with Locations(Plane(origin=(28.2, 0, -16.2812775911), x_dir=(0, 1, 0), z_dir=(0.8660254038, 0, -0.5)).offset(-F15_START)):
        with Locations((-6, 36), (-6, 19), (-6, -19), (-6, -36)):
            Hole(F15_D / 2, depth=F15_DEPTH)
            with Locations((0, 0, -(F15_DEPTH + F15_TIP / 2))):  # 118° drill point
                Cone(0, F15_D / 2, F15_TIP, mode=Mode.SUBTRACT)


solid = f1_1.part
